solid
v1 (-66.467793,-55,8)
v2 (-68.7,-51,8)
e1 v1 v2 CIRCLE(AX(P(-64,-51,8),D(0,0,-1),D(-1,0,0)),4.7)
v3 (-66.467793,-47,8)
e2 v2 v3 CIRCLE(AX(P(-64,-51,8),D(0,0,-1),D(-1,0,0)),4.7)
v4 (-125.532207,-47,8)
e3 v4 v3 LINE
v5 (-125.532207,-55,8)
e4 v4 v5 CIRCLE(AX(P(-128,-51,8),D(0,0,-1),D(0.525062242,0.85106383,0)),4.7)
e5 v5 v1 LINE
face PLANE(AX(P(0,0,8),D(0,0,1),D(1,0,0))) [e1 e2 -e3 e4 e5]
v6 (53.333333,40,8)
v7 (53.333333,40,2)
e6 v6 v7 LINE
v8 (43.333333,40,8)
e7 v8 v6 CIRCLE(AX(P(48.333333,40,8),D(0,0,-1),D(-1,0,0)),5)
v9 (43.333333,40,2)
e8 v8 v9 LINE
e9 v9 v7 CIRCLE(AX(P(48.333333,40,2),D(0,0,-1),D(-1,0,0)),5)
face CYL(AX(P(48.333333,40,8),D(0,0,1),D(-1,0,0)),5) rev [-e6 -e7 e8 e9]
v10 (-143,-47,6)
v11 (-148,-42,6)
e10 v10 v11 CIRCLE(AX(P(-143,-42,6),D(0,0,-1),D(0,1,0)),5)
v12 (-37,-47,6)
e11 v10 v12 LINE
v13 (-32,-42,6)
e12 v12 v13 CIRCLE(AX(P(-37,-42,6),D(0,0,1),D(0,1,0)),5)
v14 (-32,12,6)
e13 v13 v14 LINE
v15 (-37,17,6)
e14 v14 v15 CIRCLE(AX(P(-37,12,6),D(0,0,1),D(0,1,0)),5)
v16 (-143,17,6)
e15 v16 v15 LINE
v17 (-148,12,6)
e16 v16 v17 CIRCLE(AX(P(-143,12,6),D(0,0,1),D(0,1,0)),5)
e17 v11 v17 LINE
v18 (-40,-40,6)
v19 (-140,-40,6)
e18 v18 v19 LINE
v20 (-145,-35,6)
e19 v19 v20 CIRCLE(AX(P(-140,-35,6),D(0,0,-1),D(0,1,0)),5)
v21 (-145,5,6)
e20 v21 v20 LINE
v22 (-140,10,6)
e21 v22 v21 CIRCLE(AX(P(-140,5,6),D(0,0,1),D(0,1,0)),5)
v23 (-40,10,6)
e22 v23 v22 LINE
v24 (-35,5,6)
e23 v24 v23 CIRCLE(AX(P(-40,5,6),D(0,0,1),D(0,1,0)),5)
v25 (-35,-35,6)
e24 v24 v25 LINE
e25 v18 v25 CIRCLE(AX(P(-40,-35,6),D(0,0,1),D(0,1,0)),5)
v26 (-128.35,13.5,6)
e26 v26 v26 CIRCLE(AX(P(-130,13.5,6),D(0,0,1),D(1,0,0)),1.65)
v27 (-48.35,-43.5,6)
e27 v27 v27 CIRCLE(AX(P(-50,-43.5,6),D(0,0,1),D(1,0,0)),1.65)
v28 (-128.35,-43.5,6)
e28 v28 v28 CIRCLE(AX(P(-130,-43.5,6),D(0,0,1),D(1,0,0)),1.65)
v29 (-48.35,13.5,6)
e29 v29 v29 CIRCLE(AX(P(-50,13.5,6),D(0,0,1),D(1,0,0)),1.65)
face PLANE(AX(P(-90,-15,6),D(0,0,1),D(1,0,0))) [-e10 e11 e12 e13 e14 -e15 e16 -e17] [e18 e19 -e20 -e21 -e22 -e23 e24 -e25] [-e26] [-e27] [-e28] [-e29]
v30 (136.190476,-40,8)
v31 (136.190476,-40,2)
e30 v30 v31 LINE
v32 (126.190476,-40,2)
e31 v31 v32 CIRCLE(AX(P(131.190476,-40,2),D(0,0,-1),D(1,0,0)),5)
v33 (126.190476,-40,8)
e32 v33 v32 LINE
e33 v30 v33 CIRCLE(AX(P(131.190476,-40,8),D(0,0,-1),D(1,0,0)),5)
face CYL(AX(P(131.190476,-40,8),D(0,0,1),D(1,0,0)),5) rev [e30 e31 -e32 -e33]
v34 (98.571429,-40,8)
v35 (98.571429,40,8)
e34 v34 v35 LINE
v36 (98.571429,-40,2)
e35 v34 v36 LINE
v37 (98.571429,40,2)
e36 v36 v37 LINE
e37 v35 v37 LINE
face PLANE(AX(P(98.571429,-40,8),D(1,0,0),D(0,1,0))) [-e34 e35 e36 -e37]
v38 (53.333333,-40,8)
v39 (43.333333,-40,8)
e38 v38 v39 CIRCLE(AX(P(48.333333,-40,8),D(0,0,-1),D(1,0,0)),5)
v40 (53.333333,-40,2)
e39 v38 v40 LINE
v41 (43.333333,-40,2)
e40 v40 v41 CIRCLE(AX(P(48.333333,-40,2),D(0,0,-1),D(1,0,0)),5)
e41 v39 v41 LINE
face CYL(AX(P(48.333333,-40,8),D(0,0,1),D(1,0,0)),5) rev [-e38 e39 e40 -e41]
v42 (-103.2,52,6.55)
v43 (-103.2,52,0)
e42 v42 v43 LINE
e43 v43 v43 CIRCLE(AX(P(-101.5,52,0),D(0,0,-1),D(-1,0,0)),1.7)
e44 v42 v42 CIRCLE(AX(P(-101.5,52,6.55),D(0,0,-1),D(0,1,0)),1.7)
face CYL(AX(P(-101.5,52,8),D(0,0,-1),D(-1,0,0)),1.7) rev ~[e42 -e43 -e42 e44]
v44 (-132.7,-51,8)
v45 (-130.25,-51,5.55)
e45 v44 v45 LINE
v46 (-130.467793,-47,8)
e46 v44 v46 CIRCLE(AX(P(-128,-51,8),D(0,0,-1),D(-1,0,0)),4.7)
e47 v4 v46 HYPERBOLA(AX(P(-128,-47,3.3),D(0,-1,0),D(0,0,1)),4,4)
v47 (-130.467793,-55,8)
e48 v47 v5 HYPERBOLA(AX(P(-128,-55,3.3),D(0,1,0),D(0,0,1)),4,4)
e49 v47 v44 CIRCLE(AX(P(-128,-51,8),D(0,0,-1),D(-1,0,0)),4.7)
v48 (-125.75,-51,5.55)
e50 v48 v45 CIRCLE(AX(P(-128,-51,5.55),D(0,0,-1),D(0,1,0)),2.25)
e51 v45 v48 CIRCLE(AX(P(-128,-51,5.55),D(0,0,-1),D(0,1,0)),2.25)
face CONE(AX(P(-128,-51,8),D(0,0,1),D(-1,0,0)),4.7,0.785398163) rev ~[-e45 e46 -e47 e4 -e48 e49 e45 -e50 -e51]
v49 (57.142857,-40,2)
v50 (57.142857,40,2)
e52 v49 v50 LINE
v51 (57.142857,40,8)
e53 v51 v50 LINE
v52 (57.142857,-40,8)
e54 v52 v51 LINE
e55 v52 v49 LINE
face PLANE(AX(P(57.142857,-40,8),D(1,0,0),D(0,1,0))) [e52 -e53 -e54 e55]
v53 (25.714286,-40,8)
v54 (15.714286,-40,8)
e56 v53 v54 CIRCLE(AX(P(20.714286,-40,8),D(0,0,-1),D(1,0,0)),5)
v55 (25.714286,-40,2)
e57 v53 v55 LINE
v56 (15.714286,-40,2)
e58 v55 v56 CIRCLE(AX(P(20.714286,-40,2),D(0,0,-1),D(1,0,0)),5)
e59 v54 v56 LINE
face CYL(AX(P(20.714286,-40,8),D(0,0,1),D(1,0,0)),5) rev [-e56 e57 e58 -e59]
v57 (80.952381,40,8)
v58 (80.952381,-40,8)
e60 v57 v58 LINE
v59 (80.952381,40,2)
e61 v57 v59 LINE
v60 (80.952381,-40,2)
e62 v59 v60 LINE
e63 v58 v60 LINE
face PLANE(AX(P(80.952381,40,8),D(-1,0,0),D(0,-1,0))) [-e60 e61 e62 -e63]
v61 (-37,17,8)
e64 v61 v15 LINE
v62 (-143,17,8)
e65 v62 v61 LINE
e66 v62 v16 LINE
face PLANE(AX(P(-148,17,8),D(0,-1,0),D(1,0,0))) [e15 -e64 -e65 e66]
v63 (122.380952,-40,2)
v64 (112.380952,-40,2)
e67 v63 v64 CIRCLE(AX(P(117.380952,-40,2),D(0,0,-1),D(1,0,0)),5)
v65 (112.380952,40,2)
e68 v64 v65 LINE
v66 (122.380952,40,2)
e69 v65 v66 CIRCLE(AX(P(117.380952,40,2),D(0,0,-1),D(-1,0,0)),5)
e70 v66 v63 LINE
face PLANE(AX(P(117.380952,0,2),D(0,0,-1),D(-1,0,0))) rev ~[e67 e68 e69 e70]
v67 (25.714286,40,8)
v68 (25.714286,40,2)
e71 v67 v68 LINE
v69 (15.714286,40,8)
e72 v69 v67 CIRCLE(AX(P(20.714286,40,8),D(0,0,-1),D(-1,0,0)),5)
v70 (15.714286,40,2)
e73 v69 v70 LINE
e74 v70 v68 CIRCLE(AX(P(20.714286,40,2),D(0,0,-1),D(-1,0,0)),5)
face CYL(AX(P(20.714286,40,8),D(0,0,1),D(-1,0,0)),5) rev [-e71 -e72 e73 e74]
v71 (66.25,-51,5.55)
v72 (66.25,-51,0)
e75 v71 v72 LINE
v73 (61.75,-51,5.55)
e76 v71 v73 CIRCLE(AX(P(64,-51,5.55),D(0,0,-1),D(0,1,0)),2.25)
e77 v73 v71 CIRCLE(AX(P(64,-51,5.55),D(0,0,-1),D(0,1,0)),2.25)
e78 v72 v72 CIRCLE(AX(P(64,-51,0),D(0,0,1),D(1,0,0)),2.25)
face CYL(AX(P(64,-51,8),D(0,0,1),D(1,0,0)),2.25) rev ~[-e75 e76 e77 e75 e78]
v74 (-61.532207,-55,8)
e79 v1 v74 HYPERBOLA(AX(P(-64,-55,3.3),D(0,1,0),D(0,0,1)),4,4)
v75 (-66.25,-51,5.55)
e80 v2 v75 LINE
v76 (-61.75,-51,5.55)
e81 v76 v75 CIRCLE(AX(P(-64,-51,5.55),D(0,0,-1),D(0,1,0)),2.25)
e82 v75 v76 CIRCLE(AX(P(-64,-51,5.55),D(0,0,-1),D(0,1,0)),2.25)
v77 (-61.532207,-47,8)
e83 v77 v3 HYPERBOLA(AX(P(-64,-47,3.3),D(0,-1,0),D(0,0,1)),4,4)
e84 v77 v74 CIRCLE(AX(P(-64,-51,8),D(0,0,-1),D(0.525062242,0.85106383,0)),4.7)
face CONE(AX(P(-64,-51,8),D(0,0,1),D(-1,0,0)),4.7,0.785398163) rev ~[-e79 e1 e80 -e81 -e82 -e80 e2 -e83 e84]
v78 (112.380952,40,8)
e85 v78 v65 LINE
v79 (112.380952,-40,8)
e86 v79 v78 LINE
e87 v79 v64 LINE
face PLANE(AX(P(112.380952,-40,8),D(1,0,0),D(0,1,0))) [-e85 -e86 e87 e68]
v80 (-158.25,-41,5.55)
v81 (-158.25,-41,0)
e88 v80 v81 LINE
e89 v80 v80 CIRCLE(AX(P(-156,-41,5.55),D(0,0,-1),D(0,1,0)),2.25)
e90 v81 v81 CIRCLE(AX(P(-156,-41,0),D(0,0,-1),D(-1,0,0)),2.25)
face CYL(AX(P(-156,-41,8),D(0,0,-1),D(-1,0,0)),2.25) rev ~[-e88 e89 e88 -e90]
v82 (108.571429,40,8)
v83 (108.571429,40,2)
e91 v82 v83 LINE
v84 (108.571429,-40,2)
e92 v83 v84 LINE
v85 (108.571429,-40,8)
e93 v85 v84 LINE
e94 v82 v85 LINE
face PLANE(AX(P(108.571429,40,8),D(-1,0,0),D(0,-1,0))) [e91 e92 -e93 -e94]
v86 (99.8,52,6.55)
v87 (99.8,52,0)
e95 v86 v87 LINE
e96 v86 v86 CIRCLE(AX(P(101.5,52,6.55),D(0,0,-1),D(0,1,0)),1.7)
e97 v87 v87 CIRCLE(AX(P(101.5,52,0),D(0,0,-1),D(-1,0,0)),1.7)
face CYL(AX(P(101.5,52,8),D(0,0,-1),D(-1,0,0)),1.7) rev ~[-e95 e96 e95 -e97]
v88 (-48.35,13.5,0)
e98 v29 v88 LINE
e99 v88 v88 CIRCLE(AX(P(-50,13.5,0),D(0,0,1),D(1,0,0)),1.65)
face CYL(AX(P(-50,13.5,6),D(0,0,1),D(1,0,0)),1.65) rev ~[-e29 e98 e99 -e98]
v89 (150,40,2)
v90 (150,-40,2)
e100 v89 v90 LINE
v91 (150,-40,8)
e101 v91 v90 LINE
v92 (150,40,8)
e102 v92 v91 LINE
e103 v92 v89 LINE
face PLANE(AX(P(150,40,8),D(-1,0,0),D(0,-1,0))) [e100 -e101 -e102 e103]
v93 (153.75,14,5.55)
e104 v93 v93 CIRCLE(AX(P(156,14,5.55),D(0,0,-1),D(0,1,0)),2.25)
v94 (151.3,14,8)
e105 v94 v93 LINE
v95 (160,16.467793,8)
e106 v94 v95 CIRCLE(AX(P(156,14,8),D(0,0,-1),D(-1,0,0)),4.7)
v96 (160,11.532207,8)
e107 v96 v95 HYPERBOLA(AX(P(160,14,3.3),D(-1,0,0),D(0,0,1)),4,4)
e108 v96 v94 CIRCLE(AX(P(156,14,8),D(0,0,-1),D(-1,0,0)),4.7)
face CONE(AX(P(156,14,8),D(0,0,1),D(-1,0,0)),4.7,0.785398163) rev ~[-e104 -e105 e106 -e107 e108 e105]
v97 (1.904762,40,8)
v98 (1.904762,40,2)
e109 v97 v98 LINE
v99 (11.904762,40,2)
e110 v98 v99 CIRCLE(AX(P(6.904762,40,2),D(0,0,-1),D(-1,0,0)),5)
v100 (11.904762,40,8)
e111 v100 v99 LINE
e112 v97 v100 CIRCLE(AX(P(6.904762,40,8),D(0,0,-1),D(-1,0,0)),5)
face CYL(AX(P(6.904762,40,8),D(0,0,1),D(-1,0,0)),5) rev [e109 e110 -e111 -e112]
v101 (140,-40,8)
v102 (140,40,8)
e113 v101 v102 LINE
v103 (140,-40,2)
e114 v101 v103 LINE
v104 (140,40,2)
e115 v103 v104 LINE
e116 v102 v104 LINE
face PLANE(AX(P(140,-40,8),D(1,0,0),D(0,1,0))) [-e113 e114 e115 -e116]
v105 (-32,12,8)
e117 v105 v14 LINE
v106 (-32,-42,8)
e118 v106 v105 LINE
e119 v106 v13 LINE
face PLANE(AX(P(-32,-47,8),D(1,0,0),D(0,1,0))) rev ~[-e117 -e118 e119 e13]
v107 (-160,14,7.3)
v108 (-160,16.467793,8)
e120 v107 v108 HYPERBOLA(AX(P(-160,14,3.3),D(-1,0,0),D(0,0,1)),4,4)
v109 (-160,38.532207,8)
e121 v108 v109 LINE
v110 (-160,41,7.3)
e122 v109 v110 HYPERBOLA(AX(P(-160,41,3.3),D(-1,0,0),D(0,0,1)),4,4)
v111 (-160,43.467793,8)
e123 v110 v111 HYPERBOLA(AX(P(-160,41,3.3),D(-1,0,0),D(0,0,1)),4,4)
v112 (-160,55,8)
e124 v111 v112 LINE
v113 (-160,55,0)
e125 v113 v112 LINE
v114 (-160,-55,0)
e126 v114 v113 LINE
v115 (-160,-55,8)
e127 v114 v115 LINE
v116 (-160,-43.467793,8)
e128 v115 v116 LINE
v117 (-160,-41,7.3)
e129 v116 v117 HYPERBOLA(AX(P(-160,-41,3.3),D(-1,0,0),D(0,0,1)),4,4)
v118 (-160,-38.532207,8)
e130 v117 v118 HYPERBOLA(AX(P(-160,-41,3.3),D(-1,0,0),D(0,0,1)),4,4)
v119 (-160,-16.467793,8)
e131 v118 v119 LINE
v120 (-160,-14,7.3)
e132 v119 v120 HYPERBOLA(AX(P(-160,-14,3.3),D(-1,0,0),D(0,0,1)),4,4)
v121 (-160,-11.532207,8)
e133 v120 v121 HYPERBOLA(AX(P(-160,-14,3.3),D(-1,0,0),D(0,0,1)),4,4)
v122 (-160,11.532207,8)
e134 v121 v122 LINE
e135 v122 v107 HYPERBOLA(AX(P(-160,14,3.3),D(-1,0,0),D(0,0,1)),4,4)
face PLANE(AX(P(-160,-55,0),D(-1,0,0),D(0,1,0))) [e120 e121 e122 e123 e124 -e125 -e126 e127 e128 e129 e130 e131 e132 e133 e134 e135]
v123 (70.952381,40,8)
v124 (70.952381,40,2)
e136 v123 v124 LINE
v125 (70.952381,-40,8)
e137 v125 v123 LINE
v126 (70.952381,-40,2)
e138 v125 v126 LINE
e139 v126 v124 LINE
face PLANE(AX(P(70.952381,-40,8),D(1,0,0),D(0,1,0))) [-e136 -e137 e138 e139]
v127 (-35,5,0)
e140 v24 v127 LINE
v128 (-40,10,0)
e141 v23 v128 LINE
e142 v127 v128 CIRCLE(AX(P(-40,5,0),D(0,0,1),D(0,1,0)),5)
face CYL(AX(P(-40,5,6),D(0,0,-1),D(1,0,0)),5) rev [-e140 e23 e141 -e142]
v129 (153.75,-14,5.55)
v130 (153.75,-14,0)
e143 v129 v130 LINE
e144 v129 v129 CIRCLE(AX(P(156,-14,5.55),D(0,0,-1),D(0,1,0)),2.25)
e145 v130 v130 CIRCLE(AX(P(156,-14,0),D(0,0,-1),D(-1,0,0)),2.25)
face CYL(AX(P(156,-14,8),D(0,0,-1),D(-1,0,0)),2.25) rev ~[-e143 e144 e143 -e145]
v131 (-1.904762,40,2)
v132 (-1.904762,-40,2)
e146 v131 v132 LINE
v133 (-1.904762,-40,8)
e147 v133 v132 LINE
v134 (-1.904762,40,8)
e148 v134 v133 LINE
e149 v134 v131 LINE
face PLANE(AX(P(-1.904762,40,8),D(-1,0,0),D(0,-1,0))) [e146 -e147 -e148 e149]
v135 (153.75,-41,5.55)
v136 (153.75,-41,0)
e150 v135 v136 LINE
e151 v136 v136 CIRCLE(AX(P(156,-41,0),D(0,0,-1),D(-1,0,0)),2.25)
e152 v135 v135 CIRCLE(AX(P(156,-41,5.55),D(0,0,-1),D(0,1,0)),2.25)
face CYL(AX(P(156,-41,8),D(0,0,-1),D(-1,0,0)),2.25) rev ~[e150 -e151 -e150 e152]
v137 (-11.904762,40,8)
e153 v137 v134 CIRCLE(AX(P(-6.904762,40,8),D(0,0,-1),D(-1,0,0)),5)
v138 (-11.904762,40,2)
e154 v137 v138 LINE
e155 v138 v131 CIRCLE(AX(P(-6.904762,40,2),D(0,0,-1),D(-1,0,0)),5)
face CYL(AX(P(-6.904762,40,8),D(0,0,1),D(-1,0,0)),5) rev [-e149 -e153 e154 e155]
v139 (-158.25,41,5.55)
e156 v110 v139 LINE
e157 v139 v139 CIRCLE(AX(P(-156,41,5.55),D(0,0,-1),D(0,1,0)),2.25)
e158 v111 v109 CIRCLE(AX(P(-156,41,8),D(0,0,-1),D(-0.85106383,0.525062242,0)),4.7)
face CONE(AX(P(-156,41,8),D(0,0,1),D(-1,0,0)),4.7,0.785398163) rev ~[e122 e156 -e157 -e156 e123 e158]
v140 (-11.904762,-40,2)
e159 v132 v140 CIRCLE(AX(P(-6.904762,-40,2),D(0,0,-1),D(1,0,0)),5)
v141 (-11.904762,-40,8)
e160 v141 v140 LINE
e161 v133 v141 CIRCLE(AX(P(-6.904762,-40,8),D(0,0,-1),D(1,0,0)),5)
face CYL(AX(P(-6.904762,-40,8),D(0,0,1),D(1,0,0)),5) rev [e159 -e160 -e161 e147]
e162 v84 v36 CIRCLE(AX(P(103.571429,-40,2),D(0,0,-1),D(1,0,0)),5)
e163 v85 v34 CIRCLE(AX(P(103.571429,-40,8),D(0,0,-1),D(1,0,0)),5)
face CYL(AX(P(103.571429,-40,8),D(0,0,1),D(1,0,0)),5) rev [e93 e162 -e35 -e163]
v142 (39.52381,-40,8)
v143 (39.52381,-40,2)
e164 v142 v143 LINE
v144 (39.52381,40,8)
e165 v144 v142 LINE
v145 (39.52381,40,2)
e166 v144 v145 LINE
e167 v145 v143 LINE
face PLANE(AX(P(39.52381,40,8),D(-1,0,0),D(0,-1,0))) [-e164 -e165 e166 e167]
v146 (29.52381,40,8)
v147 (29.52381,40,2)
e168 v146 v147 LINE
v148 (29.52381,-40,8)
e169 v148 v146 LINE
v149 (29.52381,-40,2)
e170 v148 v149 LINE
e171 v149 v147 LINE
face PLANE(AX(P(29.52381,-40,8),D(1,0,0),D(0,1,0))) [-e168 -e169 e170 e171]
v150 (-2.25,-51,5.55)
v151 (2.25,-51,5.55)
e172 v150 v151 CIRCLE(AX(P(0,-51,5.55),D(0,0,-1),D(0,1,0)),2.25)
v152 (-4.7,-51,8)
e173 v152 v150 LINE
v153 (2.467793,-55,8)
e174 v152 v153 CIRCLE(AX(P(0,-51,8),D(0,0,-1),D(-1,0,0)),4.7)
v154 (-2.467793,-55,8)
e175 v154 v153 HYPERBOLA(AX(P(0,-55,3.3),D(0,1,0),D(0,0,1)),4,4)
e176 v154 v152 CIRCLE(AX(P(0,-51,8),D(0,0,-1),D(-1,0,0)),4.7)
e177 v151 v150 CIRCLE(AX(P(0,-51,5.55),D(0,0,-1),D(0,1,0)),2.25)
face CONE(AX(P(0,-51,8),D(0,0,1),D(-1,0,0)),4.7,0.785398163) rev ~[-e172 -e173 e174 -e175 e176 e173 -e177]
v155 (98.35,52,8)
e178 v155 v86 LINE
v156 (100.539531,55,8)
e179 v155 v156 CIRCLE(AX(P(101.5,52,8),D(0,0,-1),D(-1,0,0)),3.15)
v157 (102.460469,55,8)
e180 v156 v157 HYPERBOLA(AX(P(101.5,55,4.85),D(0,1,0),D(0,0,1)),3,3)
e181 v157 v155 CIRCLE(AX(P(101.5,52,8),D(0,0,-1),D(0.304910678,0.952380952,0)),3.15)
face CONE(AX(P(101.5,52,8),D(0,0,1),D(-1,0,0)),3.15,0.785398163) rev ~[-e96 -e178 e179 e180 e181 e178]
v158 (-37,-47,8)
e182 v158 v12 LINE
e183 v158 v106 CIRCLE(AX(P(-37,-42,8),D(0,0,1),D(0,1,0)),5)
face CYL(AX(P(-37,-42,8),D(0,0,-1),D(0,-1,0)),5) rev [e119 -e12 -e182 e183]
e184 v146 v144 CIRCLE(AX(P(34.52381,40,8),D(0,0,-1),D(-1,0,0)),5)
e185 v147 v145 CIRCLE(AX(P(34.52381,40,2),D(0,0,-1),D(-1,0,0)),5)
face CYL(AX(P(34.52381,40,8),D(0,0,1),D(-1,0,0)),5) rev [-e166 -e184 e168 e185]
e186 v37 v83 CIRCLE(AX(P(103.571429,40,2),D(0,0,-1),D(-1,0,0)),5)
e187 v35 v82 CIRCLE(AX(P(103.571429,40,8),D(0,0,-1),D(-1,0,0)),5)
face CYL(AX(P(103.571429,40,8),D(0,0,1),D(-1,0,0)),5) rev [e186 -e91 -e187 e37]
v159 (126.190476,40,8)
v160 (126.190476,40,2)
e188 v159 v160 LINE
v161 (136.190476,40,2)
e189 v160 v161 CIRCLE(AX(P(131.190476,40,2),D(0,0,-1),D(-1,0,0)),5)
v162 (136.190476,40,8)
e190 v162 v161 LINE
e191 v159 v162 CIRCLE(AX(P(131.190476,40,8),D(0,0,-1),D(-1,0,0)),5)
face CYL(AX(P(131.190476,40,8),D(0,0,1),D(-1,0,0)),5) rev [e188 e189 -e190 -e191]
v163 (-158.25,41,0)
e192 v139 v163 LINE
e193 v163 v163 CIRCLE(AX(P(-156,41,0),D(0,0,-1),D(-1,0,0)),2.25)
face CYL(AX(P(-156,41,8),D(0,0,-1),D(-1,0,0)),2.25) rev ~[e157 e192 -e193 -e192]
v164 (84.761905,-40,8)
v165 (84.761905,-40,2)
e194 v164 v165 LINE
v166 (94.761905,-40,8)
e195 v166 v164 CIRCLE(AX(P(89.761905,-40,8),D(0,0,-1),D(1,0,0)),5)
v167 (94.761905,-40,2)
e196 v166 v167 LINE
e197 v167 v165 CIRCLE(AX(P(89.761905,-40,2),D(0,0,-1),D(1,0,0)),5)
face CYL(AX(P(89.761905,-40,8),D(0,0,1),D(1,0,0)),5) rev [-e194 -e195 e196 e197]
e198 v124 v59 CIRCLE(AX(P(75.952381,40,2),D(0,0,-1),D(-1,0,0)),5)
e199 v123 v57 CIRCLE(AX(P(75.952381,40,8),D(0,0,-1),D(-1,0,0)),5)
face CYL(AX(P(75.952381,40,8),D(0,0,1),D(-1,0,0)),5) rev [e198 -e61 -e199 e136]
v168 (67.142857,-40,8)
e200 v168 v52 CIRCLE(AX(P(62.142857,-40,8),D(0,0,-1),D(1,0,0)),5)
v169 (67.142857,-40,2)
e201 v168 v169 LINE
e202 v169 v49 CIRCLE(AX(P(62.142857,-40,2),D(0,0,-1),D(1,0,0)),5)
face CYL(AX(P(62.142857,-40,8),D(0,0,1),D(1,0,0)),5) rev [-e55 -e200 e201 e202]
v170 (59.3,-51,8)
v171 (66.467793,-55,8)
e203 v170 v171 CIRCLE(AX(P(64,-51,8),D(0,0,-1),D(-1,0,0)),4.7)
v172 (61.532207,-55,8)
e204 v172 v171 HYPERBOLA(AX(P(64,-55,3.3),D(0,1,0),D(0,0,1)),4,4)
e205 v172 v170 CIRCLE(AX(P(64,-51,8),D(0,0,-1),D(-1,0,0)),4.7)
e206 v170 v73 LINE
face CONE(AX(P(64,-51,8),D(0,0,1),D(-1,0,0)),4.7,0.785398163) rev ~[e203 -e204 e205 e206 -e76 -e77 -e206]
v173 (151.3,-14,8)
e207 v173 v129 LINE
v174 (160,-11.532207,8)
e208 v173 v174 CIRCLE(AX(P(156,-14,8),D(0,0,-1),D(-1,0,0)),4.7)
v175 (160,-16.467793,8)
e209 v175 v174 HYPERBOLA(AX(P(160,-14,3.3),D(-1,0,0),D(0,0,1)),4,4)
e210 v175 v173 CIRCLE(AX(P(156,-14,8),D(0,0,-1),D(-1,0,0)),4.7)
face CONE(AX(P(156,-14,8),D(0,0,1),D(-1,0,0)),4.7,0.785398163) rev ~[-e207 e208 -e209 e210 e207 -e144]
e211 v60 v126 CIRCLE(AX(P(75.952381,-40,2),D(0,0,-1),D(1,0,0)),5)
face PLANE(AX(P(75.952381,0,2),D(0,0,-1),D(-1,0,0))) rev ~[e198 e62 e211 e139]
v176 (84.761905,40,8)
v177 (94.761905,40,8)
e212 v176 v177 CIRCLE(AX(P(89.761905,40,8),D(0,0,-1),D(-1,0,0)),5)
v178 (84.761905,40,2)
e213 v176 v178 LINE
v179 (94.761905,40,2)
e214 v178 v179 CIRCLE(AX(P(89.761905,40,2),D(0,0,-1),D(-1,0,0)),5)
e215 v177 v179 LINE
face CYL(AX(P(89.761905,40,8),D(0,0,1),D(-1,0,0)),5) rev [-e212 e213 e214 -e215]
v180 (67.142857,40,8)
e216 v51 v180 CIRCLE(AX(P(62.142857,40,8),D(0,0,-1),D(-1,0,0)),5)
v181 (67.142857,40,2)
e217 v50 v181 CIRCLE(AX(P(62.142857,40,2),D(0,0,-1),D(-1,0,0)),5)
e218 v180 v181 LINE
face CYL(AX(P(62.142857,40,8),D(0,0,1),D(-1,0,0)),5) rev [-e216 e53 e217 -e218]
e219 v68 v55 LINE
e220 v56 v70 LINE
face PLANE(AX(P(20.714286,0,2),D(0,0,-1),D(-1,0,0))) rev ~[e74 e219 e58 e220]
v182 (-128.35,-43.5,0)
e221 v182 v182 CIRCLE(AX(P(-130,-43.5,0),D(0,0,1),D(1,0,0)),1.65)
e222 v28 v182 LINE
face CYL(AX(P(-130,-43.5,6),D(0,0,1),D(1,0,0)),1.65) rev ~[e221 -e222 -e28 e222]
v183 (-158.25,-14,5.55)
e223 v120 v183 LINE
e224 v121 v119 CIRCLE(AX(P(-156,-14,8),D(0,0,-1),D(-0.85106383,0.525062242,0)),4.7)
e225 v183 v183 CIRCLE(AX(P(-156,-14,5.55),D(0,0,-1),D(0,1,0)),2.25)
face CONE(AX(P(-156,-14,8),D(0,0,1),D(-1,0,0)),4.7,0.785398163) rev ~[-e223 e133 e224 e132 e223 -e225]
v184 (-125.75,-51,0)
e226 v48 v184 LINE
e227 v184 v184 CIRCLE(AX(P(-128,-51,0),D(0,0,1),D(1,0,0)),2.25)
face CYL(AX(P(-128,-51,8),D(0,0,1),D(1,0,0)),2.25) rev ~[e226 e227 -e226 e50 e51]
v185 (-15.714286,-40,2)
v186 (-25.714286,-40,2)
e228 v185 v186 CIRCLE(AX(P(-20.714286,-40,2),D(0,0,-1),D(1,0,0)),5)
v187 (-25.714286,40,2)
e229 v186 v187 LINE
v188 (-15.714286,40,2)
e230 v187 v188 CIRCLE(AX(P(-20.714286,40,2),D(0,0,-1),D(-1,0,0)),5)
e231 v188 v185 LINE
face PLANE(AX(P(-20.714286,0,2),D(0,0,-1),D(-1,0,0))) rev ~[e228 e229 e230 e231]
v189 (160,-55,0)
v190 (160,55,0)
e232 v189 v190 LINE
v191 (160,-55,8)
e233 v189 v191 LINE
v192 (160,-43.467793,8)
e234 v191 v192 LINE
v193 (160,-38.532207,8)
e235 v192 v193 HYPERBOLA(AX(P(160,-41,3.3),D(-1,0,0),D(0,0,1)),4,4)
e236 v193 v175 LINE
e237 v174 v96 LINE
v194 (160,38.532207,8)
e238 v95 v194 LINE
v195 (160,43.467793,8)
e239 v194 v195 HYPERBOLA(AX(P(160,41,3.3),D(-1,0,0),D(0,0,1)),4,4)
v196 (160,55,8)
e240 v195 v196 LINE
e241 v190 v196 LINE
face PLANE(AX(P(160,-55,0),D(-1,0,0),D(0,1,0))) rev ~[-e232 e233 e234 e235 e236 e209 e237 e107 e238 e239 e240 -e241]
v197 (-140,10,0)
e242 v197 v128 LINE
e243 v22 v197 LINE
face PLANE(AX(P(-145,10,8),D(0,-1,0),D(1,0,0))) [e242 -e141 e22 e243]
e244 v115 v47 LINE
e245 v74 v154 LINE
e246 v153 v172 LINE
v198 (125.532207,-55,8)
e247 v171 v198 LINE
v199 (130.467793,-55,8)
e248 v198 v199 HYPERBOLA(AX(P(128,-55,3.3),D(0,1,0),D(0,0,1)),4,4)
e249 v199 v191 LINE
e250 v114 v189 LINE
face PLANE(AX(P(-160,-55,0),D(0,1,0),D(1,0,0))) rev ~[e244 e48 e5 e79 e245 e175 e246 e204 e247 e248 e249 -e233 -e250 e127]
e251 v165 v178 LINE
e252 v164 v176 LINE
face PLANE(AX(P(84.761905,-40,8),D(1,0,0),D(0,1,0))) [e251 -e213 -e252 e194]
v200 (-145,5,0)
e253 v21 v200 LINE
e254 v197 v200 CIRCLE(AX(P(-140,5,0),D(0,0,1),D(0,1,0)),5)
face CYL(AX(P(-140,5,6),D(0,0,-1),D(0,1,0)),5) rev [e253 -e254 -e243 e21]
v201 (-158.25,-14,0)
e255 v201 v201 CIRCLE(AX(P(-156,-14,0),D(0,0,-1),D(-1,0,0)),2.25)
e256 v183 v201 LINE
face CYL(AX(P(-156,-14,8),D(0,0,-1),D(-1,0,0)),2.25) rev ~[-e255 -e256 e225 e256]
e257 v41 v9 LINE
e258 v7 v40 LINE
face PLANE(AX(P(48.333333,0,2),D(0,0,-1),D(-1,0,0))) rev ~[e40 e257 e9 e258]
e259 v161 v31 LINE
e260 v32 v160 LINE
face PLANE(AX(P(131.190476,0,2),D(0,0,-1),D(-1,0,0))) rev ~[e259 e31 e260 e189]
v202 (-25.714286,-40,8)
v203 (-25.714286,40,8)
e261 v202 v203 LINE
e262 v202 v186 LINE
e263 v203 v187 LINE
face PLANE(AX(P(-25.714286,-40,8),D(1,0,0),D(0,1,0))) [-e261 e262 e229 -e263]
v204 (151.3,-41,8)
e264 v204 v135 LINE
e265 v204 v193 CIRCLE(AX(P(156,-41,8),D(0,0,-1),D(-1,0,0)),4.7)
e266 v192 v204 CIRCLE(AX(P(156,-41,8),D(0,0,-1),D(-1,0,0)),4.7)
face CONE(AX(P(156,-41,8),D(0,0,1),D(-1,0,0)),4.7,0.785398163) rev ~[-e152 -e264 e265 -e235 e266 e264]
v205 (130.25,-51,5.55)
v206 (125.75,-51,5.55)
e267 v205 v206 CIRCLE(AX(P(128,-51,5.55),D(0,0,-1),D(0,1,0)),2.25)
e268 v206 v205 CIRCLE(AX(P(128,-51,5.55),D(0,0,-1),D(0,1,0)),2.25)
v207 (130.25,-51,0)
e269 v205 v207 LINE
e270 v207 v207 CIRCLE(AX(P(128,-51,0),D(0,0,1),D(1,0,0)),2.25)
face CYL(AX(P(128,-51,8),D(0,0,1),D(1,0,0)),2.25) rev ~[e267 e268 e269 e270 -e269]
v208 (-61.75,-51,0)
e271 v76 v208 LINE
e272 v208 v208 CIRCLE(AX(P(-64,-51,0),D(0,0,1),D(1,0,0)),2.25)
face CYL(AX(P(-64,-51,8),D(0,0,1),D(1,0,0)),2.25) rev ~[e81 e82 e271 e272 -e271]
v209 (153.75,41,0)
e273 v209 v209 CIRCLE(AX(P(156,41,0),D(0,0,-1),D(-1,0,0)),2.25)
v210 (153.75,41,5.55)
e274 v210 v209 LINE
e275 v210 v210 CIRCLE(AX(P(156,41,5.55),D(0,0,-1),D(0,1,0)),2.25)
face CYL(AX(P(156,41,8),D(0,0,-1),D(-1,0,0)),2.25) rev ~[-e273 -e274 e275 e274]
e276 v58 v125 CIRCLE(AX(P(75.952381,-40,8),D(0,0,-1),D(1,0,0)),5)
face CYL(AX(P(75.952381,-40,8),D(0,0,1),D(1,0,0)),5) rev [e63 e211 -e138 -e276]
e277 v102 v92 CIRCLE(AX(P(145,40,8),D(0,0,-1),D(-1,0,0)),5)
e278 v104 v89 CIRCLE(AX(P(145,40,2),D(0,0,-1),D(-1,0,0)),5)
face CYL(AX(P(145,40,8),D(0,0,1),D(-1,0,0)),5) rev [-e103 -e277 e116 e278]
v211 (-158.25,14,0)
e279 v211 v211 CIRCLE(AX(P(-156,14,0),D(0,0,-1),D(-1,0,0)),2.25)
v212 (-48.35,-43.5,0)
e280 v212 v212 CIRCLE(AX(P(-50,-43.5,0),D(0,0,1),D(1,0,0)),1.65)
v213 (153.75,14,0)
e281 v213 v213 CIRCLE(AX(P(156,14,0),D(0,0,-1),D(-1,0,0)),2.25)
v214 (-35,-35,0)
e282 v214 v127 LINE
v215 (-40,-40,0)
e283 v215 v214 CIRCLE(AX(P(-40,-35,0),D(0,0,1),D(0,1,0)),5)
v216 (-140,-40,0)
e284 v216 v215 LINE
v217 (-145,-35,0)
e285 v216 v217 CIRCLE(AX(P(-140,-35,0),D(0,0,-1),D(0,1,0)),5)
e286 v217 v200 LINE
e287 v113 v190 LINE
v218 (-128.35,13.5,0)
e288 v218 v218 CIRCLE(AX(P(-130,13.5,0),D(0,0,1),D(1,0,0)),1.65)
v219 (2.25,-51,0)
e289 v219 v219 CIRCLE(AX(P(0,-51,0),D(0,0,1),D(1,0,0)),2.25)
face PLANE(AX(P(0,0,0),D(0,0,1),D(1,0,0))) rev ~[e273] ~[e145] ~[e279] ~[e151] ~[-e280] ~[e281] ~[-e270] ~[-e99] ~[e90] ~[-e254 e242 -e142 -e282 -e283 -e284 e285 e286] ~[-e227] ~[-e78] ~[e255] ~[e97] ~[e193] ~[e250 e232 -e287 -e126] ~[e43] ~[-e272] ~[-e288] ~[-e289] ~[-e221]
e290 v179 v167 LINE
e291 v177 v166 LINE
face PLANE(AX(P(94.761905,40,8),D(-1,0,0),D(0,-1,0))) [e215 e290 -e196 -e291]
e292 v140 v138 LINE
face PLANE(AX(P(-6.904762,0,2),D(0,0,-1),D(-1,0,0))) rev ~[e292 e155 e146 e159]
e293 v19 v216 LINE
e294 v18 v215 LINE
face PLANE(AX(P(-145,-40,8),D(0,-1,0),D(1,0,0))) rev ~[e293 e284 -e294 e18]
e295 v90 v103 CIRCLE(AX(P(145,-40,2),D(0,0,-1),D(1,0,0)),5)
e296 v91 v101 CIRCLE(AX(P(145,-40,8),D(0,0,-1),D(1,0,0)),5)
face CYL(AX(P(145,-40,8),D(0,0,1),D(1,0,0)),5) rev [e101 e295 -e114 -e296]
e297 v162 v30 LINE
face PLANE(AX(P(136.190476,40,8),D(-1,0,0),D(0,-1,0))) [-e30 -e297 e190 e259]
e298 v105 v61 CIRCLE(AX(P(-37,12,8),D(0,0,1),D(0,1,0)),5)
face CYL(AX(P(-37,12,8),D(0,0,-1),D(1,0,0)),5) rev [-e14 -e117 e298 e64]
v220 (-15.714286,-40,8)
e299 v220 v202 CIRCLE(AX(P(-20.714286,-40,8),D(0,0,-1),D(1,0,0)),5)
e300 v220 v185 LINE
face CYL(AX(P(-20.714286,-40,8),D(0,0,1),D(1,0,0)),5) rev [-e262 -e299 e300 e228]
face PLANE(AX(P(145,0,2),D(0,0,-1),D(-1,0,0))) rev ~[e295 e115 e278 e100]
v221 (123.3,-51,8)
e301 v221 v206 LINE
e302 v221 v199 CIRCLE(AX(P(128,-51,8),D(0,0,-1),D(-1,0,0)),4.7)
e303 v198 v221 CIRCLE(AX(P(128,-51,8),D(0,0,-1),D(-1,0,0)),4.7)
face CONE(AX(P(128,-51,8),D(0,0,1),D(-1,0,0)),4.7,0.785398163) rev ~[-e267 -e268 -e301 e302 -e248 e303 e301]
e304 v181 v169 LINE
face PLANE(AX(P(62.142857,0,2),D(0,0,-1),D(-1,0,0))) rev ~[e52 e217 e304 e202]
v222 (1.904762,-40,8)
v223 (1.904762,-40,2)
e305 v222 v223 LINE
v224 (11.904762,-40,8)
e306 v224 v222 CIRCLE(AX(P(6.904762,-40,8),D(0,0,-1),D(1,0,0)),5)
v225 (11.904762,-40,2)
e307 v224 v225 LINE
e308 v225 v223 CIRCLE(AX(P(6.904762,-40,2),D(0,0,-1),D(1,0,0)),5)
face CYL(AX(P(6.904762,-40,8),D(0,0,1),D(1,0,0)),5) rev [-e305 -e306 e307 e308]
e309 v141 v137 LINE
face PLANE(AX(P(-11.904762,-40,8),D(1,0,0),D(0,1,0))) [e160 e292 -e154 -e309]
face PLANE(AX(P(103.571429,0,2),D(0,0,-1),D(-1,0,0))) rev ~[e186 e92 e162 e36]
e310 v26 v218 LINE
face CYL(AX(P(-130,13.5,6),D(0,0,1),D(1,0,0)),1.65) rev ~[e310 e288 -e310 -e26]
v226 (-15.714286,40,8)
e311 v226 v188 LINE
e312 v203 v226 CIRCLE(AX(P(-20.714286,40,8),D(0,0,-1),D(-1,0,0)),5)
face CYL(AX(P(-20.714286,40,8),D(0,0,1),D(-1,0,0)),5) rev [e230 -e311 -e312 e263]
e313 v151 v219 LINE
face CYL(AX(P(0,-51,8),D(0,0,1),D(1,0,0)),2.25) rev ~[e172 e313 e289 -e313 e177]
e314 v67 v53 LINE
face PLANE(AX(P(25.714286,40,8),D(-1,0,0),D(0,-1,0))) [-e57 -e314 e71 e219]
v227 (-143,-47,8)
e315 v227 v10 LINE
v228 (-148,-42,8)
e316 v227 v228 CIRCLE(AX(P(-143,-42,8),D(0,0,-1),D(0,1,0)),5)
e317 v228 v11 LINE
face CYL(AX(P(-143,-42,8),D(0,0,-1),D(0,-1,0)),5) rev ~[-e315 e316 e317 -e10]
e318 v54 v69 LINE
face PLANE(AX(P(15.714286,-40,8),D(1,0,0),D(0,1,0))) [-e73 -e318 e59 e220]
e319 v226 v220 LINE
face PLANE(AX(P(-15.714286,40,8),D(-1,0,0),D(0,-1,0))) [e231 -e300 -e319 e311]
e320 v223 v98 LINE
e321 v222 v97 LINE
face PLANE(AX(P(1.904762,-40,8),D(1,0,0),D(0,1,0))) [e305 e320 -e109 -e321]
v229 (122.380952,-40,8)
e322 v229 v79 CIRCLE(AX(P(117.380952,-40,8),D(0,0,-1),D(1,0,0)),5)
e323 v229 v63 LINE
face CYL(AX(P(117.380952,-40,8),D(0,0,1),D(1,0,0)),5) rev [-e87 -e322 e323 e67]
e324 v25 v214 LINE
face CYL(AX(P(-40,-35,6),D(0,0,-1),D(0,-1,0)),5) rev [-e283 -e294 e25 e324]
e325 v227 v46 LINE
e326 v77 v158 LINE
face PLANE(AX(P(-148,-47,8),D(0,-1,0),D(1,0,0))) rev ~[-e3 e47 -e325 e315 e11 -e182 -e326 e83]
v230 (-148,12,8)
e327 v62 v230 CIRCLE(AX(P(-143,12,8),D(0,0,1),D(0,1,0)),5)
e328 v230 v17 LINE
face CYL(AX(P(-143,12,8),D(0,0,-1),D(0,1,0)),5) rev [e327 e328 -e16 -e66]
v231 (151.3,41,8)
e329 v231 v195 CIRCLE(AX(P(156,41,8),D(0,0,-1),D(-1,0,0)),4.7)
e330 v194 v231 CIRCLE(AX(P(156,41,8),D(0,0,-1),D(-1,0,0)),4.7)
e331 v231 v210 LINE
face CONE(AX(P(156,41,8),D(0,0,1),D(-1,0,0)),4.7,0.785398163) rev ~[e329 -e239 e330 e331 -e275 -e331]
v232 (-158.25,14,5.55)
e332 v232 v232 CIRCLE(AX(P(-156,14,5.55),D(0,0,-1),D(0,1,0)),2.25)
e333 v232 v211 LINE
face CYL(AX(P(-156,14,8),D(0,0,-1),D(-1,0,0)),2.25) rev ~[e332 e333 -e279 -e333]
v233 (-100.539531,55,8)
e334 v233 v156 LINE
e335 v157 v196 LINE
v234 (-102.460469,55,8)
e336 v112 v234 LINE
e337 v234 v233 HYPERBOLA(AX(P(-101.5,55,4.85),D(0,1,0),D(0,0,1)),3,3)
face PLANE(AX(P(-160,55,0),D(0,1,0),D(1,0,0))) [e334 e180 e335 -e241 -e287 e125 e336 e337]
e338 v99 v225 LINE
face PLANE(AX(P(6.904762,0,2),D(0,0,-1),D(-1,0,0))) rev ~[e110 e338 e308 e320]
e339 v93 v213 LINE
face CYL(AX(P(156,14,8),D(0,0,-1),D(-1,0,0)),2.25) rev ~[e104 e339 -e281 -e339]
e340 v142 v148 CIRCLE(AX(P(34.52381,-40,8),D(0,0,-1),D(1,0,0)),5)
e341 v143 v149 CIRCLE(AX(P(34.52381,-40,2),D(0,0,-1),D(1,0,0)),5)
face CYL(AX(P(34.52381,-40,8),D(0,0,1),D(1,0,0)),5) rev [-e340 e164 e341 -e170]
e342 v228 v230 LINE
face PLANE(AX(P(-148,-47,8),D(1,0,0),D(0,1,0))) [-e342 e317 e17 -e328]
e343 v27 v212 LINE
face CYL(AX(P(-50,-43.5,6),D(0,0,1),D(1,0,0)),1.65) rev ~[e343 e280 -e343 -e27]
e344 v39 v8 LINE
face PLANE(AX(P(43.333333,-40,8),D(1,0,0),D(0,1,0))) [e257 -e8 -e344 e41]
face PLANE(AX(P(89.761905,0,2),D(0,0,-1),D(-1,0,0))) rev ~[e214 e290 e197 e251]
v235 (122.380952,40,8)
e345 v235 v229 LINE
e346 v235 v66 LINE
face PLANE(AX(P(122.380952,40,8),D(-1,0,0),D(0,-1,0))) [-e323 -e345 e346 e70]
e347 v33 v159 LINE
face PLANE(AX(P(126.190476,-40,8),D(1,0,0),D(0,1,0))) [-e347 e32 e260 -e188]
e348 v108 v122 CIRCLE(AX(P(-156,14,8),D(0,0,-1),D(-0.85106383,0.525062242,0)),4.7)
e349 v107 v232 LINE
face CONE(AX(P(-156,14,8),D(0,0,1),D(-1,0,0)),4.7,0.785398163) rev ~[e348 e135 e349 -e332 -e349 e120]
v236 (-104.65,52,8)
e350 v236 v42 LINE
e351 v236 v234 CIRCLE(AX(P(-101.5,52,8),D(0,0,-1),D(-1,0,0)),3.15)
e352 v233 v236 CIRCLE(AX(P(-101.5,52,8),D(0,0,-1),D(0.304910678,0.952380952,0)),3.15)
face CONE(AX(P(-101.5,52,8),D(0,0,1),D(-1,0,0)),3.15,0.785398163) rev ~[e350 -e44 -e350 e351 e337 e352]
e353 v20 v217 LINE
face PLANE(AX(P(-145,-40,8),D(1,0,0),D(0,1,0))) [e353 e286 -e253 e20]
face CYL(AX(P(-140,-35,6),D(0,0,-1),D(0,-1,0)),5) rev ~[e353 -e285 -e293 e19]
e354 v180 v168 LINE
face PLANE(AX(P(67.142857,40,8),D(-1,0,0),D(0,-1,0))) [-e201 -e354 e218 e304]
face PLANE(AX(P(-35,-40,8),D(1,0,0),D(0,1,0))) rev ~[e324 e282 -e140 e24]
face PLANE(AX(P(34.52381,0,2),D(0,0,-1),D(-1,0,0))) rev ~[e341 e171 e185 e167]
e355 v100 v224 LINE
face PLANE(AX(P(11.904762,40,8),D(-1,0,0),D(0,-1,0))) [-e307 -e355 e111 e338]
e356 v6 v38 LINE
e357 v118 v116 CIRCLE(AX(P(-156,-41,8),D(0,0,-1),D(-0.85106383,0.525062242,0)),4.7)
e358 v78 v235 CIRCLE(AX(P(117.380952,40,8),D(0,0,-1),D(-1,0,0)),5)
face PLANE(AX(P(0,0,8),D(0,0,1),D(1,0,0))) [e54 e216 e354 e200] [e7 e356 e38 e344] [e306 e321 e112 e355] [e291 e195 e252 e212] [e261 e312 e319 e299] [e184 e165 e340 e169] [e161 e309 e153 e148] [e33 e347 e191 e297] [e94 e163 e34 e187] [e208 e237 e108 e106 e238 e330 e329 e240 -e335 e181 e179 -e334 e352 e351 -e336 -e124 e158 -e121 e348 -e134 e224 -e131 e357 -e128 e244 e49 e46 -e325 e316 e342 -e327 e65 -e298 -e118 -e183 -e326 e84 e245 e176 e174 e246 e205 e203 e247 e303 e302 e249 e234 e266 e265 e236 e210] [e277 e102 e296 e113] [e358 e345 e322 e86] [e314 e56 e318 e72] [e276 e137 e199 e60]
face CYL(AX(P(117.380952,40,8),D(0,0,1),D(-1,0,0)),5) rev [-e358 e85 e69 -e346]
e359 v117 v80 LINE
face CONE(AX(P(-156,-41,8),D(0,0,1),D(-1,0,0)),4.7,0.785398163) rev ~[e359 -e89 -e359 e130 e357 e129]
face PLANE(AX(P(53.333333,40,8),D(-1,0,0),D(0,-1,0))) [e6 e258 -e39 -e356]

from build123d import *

# Parameters (mm, degrees)
SKETCH1_W                                       = 320
SKETCH1_H                                       = 110
EXTRUDE1_DEPTH                                  = 8
SKETCH2_R                                       = 1.75
CUT_EXTRUDE1_DEPTH                              = 170.378274876
CUT_EXTRUDE2_DEPTH                              = 6
SKETCH7_R                                       = 2.25
CUT_EXTRUDE3_DEPTH                              = 10
SKETCH10_R                                      = 1.5
CUT_EXTRUDE4_DEPTH                              = 10
CSK_FOR_M3_FLAT_HEAD_MACHINE_SCREW3_D           = 3.4
CSK_FOR_M3_FLAT_HEAD_MACHINE_SCREW3_CSINK_D     = 6.3
CSK_FOR_M3_FLAT_HEAD_MACHINE_SCREW3_CSINK_ANGLE = 90
SKETCH13_W                                      = 110
SKETCH13_H                                      = 50
CUT_EXTRUDE5_DEPTH                              = 10
SKETCH14_W                                      = 116
SKETCH14_H                                      = 64
CUT_EXTRUDE6_DEPTH                              = 2
FILLET1_R                                       = 5
SKETCH16_R                                      = 1.65
CUT_EXTRUDE7_DEPTH                              = 10
CSK_FOR_M4_FLAT_HEAD_MACHINE_SCREW1_D           = 4.5
CSK_FOR_M4_FLAT_HEAD_MACHINE_SCREW1_CSINK_D     = 9.4
CSK_FOR_M4_FLAT_HEAD_MACHINE_SCREW1_CSINK_ANGLE = 90


with BuildPart() as part:
    # Sketch1 → Extrude1 (new body)
    with BuildSketch(Plane.XY):
        Rectangle(SKETCH1_W, SKETCH1_H)
    extrude(amount=EXTRUDE1_DEPTH)

    # Sketch2 → Cut-Extrude1 (cut, through all)
    with BuildSketch(Plane.XY.offset(8)):
        with Locations((156, 41)):
            Circle(SKETCH2_R)
        with Locations((156, 14)):
            Circle(SKETCH2_R)
        with Locations(Location((156, -41, 0), (0, 0, 180))):
            Circle(SKETCH2_R)
        with Locations(Location((156, -14, 0), (0, 0, 180))):
            Circle(SKETCH2_R)
        with Locations((-156, -41)):
            Circle(SKETCH2_R)
        with Locations((-156, -14)):
            Circle(SKETCH2_R)
        with Locations(Location((-156, 14, 0), (0, 0, 180))):
            Circle(SKETCH2_R)
        with Locations(Location((-156, 41, 0), (0, 0, 180))):
            Circle(SKETCH2_R)
    extrude(amount=-CUT_EXTRUDE1_DEPTH, mode=Mode.SUBTRACT)

    # Sketch6 → Cut-Extrude2 (cut)
    with BuildSketch(Plane.XY.offset(8)):
        with BuildLine():
            Line((150, 40), (150, -40))
            ThreePointArc((150, -40), (145, -45), (140, -40))
            Line((140, -40), (140, 40))
            ThreePointArc((140, 40), (145, 45), (150, 40))
        make_face()
        with BuildLine():
            Line((136.19047619, 40), (136.19047619, -40))
            ThreePointArc((136.19047619, -40), (131.19047619, -45), (126.19047619, -40))
            Line((126.19047619, -40), (126.19047619, 40))
            ThreePointArc((126.19047619, 40), (131.19047619, 45), (136.19047619, 40))
        make_face()
        with BuildLine():
            Line((122.380952381, 40), (122.380952381, -40))
            ThreePointArc((122.380952381, -40), (117.380952381, -45), (112.380952381, -40))
            Line((112.380952381, -40), (112.380952381, 40))
            ThreePointArc((112.380952381, 40), (117.380952381, 45), (122.380952381, 40))
        make_face()
        with BuildLine():
            Line((108.571428571, 40), (108.571428571, -40))
            ThreePointArc((108.571428571, -40), (103.571428571, -45), (98.571428571, -40))
            Line((98.571428571, -40), (98.571428571, 40))
            ThreePointArc((98.571428571, 40), (103.571428571, 45), (108.571428571, 40))
        make_face()
        with BuildLine():
            Line((94.761904762, 40), (94.761904762, -40))
            ThreePointArc((94.761904762, -40), (89.761904762, -45), (84.761904762, -40))
            Line((84.761904762, -40), (84.761904762, 40))
            ThreePointArc((84.761904762, 40), (89.761904762, 45), (94.761904762, 40))
        make_face()
        with BuildLine():
            Line((80.952380952, 40), (80.952380952, -40))
            ThreePointArc((80.952380952, -40), (75.952380952, -45), (70.952380952, -40))
            Line((70.952380952, -40), (70.952380952, 40))
            ThreePointArc((70.952380952, 40), (75.952380952, 45), (80.952380952, 40))
        make_face()
        with BuildLine():
            Line((67.142857143, 40), (67.142857143, -40))
            ThreePointArc((67.142857143, -40), (62.142857143, -45), (57.142857143, -40))
            Line((57.142857143, -40), (57.142857143, 40))
            ThreePointArc((57.142857143, 40), (62.142857143, 45), (67.142857143, 40))
        make_face()
        with BuildLine():
            Line((53.333333333, 40), (53.333333333, -40))
            ThreePointArc((53.333333333, -40), (48.333333333, -45), (43.333333333, -40))
            Line((43.333333333, -40), (43.333333333, 40))
            ThreePointArc((43.333333333, 40), (48.333333333, 45), (53.333333333, 40))
        make_face()
        with BuildLine():
            Line((39.523809524, 40), (39.523809524, -40))
            ThreePointArc((39.523809524, -40), (34.523809524, -45), (29.523809524, -40))
            Line((29.523809524, -40), (29.523809524, 40))
            ThreePointArc((29.523809524, 40), (34.523809524, 45), (39.523809524, 40))
        make_face()
        with BuildLine():
            Line((25.714285714, 40), (25.714285714, -40))
            ThreePointArc((25.714285714, -40), (20.714285714, -45), (15.714285714, -40))
            Line((15.714285714, -40), (15.714285714, 40))
            ThreePointArc((15.714285714, 40), (20.714285714, 45), (25.714285714, 40))
        make_face()
        with BuildLine():
            Line((11.904761905, 40), (11.904761905, -40))
            ThreePointArc((11.904761905, -40), (6.904761905, -45), (1.904761905, -40))
            Line((1.904761905, -40), (1.904761905, 40))
            ThreePointArc((1.904761905, 40), (6.904761905, 45), (11.904761905, 40))
        make_face()
        with BuildLine():
            Line((-1.904761905, 40), (-1.904761905, -40))
            ThreePointArc((-1.904761905, -40), (-6.904761905, -45), (-11.904761905, -40))
            Line((-11.904761905, -40), (-11.904761905, 40))
            ThreePointArc((-11.904761905, 40), (-6.904761905, 45), (-1.904761905, 40))
        make_face()
        with BuildLine():
            Line((-15.714285714, 40), (-15.714285714, -40))
            ThreePointArc((-15.714285714, -40), (-20.714285714, -45), (-25.714285714, -40))
            Line((-25.714285714, -40), (-25.714285714, 40))
            ThreePointArc((-25.714285714, 40), (-20.714285714, 45), (-15.714285714, 40))
        make_face()
    extrude(amount=-CUT_EXTRUDE2_DEPTH, mode=Mode.SUBTRACT)

    # Sketch7 → Cut-Extrude3 (cut)
    with BuildSketch(Plane.XY.offset(8)):
        with Locations((-64, -51)):
            Circle(SKETCH7_R)
        with Locations((0, -51)):
            Circle(SKETCH7_R)
        with Locations((64, -51)):
            Circle(SKETCH7_R)
        with Locations((-128, -51)):
            Circle(SKETCH7_R)
        with Locations((128, -51)):
            Circle(SKETCH7_R)
    extrude(amount=-CUT_EXTRUDE3_DEPTH, mode=Mode.SUBTRACT)

    # Sketch10 → Cut-Extrude4 (cut)
    with BuildSketch(Plane.XY.offset(8)):
        with Locations((101.5, 52)):
            Circle(SKETCH10_R)
        with Locations((-101.5, 52)):
            Circle(SKETCH10_R)
    extrude(amount=-CUT_EXTRUDE4_DEPTH, mode=Mode.SUBTRACT)

    # CSK for M3 Flat Head Machine Screw3 (through all)
    with Locations(Plane.XY.offset(8)):
        with Locations((-101.5, 52), (101.5, 52)):
            CounterSinkHole(CSK_FOR_M3_FLAT_HEAD_MACHINE_SCREW3_D / 2, CSK_FOR_M3_FLAT_HEAD_MACHINE_SCREW3_CSINK_D / 2, counter_sink_angle=CSK_FOR_M3_FLAT_HEAD_MACHINE_SCREW3_CSINK_ANGLE)

    # Sketch13 → Cut-Extrude5 (cut)
    with BuildSketch(Plane.XY.offset(8)):
        with Locations((-90, -15)):
            Rectangle(SKETCH13_W, SKETCH13_H)
    extrude(amount=-CUT_EXTRUDE5_DEPTH, mode=Mode.SUBTRACT)

    # Sketch14 → Cut-Extrude6 (cut)
    with BuildSketch(Plane.XY.offset(8)):
        with Locations((-90, -15)):
            Rectangle(SKETCH14_W, SKETCH14_H)
    extrude(amount=-CUT_EXTRUDE6_DEPTH, mode=Mode.SUBTRACT)

    # Fillet1
    fillet1_edges = [part.edges().sort_by_distance(p)[0] for p in [
        (-145, -40, 3),
        (-145, 10, 3),
        (-35, 10, 3),
        (-35, -40, 3),
        (-148, -47, 7),
        (-148, 17, 7),
        (-32, 17, 7),
        (-32, -47, 7),
    ]]
    fillet(fillet1_edges, radius=FILLET1_R)

    # Sketch16 → Cut-Extrude7 (cut)
    with BuildSketch(Plane.XY.offset(6)):
        with Locations((-130, -43.5)):
            Circle(SKETCH16_R)
        with Locations((-50, -43.5)):
            Circle(SKETCH16_R)
        with Locations((-50, 13.5)):
            Circle(SKETCH16_R)
        with Locations((-130, 13.5)):
            Circle(SKETCH16_R)
    extrude(amount=-CUT_EXTRUDE7_DEPTH, mode=Mode.SUBTRACT)

    # CSK for M4 Flat Head Machine Screw1 (through all)
    with Locations(Plane.XY.offset(8)):
        with Locations((156, 41), (156, 14), (156, -41), (-156, -41), (-156, -14), (-156, 14), (-156, 41), (156, -14), (-128, -51), (-64, -51), (0, -51), (64, -51), (128, -51)):
            CounterSinkHole(CSK_FOR_M4_FLAT_HEAD_MACHINE_SCREW1_D / 2, CSK_FOR_M4_FLAT_HEAD_MACHINE_SCREW1_CSINK_D / 2, counter_sink_angle=CSK_FOR_M4_FLAT_HEAD_MACHINE_SCREW1_CSINK_ANGLE)


solid = part.part
